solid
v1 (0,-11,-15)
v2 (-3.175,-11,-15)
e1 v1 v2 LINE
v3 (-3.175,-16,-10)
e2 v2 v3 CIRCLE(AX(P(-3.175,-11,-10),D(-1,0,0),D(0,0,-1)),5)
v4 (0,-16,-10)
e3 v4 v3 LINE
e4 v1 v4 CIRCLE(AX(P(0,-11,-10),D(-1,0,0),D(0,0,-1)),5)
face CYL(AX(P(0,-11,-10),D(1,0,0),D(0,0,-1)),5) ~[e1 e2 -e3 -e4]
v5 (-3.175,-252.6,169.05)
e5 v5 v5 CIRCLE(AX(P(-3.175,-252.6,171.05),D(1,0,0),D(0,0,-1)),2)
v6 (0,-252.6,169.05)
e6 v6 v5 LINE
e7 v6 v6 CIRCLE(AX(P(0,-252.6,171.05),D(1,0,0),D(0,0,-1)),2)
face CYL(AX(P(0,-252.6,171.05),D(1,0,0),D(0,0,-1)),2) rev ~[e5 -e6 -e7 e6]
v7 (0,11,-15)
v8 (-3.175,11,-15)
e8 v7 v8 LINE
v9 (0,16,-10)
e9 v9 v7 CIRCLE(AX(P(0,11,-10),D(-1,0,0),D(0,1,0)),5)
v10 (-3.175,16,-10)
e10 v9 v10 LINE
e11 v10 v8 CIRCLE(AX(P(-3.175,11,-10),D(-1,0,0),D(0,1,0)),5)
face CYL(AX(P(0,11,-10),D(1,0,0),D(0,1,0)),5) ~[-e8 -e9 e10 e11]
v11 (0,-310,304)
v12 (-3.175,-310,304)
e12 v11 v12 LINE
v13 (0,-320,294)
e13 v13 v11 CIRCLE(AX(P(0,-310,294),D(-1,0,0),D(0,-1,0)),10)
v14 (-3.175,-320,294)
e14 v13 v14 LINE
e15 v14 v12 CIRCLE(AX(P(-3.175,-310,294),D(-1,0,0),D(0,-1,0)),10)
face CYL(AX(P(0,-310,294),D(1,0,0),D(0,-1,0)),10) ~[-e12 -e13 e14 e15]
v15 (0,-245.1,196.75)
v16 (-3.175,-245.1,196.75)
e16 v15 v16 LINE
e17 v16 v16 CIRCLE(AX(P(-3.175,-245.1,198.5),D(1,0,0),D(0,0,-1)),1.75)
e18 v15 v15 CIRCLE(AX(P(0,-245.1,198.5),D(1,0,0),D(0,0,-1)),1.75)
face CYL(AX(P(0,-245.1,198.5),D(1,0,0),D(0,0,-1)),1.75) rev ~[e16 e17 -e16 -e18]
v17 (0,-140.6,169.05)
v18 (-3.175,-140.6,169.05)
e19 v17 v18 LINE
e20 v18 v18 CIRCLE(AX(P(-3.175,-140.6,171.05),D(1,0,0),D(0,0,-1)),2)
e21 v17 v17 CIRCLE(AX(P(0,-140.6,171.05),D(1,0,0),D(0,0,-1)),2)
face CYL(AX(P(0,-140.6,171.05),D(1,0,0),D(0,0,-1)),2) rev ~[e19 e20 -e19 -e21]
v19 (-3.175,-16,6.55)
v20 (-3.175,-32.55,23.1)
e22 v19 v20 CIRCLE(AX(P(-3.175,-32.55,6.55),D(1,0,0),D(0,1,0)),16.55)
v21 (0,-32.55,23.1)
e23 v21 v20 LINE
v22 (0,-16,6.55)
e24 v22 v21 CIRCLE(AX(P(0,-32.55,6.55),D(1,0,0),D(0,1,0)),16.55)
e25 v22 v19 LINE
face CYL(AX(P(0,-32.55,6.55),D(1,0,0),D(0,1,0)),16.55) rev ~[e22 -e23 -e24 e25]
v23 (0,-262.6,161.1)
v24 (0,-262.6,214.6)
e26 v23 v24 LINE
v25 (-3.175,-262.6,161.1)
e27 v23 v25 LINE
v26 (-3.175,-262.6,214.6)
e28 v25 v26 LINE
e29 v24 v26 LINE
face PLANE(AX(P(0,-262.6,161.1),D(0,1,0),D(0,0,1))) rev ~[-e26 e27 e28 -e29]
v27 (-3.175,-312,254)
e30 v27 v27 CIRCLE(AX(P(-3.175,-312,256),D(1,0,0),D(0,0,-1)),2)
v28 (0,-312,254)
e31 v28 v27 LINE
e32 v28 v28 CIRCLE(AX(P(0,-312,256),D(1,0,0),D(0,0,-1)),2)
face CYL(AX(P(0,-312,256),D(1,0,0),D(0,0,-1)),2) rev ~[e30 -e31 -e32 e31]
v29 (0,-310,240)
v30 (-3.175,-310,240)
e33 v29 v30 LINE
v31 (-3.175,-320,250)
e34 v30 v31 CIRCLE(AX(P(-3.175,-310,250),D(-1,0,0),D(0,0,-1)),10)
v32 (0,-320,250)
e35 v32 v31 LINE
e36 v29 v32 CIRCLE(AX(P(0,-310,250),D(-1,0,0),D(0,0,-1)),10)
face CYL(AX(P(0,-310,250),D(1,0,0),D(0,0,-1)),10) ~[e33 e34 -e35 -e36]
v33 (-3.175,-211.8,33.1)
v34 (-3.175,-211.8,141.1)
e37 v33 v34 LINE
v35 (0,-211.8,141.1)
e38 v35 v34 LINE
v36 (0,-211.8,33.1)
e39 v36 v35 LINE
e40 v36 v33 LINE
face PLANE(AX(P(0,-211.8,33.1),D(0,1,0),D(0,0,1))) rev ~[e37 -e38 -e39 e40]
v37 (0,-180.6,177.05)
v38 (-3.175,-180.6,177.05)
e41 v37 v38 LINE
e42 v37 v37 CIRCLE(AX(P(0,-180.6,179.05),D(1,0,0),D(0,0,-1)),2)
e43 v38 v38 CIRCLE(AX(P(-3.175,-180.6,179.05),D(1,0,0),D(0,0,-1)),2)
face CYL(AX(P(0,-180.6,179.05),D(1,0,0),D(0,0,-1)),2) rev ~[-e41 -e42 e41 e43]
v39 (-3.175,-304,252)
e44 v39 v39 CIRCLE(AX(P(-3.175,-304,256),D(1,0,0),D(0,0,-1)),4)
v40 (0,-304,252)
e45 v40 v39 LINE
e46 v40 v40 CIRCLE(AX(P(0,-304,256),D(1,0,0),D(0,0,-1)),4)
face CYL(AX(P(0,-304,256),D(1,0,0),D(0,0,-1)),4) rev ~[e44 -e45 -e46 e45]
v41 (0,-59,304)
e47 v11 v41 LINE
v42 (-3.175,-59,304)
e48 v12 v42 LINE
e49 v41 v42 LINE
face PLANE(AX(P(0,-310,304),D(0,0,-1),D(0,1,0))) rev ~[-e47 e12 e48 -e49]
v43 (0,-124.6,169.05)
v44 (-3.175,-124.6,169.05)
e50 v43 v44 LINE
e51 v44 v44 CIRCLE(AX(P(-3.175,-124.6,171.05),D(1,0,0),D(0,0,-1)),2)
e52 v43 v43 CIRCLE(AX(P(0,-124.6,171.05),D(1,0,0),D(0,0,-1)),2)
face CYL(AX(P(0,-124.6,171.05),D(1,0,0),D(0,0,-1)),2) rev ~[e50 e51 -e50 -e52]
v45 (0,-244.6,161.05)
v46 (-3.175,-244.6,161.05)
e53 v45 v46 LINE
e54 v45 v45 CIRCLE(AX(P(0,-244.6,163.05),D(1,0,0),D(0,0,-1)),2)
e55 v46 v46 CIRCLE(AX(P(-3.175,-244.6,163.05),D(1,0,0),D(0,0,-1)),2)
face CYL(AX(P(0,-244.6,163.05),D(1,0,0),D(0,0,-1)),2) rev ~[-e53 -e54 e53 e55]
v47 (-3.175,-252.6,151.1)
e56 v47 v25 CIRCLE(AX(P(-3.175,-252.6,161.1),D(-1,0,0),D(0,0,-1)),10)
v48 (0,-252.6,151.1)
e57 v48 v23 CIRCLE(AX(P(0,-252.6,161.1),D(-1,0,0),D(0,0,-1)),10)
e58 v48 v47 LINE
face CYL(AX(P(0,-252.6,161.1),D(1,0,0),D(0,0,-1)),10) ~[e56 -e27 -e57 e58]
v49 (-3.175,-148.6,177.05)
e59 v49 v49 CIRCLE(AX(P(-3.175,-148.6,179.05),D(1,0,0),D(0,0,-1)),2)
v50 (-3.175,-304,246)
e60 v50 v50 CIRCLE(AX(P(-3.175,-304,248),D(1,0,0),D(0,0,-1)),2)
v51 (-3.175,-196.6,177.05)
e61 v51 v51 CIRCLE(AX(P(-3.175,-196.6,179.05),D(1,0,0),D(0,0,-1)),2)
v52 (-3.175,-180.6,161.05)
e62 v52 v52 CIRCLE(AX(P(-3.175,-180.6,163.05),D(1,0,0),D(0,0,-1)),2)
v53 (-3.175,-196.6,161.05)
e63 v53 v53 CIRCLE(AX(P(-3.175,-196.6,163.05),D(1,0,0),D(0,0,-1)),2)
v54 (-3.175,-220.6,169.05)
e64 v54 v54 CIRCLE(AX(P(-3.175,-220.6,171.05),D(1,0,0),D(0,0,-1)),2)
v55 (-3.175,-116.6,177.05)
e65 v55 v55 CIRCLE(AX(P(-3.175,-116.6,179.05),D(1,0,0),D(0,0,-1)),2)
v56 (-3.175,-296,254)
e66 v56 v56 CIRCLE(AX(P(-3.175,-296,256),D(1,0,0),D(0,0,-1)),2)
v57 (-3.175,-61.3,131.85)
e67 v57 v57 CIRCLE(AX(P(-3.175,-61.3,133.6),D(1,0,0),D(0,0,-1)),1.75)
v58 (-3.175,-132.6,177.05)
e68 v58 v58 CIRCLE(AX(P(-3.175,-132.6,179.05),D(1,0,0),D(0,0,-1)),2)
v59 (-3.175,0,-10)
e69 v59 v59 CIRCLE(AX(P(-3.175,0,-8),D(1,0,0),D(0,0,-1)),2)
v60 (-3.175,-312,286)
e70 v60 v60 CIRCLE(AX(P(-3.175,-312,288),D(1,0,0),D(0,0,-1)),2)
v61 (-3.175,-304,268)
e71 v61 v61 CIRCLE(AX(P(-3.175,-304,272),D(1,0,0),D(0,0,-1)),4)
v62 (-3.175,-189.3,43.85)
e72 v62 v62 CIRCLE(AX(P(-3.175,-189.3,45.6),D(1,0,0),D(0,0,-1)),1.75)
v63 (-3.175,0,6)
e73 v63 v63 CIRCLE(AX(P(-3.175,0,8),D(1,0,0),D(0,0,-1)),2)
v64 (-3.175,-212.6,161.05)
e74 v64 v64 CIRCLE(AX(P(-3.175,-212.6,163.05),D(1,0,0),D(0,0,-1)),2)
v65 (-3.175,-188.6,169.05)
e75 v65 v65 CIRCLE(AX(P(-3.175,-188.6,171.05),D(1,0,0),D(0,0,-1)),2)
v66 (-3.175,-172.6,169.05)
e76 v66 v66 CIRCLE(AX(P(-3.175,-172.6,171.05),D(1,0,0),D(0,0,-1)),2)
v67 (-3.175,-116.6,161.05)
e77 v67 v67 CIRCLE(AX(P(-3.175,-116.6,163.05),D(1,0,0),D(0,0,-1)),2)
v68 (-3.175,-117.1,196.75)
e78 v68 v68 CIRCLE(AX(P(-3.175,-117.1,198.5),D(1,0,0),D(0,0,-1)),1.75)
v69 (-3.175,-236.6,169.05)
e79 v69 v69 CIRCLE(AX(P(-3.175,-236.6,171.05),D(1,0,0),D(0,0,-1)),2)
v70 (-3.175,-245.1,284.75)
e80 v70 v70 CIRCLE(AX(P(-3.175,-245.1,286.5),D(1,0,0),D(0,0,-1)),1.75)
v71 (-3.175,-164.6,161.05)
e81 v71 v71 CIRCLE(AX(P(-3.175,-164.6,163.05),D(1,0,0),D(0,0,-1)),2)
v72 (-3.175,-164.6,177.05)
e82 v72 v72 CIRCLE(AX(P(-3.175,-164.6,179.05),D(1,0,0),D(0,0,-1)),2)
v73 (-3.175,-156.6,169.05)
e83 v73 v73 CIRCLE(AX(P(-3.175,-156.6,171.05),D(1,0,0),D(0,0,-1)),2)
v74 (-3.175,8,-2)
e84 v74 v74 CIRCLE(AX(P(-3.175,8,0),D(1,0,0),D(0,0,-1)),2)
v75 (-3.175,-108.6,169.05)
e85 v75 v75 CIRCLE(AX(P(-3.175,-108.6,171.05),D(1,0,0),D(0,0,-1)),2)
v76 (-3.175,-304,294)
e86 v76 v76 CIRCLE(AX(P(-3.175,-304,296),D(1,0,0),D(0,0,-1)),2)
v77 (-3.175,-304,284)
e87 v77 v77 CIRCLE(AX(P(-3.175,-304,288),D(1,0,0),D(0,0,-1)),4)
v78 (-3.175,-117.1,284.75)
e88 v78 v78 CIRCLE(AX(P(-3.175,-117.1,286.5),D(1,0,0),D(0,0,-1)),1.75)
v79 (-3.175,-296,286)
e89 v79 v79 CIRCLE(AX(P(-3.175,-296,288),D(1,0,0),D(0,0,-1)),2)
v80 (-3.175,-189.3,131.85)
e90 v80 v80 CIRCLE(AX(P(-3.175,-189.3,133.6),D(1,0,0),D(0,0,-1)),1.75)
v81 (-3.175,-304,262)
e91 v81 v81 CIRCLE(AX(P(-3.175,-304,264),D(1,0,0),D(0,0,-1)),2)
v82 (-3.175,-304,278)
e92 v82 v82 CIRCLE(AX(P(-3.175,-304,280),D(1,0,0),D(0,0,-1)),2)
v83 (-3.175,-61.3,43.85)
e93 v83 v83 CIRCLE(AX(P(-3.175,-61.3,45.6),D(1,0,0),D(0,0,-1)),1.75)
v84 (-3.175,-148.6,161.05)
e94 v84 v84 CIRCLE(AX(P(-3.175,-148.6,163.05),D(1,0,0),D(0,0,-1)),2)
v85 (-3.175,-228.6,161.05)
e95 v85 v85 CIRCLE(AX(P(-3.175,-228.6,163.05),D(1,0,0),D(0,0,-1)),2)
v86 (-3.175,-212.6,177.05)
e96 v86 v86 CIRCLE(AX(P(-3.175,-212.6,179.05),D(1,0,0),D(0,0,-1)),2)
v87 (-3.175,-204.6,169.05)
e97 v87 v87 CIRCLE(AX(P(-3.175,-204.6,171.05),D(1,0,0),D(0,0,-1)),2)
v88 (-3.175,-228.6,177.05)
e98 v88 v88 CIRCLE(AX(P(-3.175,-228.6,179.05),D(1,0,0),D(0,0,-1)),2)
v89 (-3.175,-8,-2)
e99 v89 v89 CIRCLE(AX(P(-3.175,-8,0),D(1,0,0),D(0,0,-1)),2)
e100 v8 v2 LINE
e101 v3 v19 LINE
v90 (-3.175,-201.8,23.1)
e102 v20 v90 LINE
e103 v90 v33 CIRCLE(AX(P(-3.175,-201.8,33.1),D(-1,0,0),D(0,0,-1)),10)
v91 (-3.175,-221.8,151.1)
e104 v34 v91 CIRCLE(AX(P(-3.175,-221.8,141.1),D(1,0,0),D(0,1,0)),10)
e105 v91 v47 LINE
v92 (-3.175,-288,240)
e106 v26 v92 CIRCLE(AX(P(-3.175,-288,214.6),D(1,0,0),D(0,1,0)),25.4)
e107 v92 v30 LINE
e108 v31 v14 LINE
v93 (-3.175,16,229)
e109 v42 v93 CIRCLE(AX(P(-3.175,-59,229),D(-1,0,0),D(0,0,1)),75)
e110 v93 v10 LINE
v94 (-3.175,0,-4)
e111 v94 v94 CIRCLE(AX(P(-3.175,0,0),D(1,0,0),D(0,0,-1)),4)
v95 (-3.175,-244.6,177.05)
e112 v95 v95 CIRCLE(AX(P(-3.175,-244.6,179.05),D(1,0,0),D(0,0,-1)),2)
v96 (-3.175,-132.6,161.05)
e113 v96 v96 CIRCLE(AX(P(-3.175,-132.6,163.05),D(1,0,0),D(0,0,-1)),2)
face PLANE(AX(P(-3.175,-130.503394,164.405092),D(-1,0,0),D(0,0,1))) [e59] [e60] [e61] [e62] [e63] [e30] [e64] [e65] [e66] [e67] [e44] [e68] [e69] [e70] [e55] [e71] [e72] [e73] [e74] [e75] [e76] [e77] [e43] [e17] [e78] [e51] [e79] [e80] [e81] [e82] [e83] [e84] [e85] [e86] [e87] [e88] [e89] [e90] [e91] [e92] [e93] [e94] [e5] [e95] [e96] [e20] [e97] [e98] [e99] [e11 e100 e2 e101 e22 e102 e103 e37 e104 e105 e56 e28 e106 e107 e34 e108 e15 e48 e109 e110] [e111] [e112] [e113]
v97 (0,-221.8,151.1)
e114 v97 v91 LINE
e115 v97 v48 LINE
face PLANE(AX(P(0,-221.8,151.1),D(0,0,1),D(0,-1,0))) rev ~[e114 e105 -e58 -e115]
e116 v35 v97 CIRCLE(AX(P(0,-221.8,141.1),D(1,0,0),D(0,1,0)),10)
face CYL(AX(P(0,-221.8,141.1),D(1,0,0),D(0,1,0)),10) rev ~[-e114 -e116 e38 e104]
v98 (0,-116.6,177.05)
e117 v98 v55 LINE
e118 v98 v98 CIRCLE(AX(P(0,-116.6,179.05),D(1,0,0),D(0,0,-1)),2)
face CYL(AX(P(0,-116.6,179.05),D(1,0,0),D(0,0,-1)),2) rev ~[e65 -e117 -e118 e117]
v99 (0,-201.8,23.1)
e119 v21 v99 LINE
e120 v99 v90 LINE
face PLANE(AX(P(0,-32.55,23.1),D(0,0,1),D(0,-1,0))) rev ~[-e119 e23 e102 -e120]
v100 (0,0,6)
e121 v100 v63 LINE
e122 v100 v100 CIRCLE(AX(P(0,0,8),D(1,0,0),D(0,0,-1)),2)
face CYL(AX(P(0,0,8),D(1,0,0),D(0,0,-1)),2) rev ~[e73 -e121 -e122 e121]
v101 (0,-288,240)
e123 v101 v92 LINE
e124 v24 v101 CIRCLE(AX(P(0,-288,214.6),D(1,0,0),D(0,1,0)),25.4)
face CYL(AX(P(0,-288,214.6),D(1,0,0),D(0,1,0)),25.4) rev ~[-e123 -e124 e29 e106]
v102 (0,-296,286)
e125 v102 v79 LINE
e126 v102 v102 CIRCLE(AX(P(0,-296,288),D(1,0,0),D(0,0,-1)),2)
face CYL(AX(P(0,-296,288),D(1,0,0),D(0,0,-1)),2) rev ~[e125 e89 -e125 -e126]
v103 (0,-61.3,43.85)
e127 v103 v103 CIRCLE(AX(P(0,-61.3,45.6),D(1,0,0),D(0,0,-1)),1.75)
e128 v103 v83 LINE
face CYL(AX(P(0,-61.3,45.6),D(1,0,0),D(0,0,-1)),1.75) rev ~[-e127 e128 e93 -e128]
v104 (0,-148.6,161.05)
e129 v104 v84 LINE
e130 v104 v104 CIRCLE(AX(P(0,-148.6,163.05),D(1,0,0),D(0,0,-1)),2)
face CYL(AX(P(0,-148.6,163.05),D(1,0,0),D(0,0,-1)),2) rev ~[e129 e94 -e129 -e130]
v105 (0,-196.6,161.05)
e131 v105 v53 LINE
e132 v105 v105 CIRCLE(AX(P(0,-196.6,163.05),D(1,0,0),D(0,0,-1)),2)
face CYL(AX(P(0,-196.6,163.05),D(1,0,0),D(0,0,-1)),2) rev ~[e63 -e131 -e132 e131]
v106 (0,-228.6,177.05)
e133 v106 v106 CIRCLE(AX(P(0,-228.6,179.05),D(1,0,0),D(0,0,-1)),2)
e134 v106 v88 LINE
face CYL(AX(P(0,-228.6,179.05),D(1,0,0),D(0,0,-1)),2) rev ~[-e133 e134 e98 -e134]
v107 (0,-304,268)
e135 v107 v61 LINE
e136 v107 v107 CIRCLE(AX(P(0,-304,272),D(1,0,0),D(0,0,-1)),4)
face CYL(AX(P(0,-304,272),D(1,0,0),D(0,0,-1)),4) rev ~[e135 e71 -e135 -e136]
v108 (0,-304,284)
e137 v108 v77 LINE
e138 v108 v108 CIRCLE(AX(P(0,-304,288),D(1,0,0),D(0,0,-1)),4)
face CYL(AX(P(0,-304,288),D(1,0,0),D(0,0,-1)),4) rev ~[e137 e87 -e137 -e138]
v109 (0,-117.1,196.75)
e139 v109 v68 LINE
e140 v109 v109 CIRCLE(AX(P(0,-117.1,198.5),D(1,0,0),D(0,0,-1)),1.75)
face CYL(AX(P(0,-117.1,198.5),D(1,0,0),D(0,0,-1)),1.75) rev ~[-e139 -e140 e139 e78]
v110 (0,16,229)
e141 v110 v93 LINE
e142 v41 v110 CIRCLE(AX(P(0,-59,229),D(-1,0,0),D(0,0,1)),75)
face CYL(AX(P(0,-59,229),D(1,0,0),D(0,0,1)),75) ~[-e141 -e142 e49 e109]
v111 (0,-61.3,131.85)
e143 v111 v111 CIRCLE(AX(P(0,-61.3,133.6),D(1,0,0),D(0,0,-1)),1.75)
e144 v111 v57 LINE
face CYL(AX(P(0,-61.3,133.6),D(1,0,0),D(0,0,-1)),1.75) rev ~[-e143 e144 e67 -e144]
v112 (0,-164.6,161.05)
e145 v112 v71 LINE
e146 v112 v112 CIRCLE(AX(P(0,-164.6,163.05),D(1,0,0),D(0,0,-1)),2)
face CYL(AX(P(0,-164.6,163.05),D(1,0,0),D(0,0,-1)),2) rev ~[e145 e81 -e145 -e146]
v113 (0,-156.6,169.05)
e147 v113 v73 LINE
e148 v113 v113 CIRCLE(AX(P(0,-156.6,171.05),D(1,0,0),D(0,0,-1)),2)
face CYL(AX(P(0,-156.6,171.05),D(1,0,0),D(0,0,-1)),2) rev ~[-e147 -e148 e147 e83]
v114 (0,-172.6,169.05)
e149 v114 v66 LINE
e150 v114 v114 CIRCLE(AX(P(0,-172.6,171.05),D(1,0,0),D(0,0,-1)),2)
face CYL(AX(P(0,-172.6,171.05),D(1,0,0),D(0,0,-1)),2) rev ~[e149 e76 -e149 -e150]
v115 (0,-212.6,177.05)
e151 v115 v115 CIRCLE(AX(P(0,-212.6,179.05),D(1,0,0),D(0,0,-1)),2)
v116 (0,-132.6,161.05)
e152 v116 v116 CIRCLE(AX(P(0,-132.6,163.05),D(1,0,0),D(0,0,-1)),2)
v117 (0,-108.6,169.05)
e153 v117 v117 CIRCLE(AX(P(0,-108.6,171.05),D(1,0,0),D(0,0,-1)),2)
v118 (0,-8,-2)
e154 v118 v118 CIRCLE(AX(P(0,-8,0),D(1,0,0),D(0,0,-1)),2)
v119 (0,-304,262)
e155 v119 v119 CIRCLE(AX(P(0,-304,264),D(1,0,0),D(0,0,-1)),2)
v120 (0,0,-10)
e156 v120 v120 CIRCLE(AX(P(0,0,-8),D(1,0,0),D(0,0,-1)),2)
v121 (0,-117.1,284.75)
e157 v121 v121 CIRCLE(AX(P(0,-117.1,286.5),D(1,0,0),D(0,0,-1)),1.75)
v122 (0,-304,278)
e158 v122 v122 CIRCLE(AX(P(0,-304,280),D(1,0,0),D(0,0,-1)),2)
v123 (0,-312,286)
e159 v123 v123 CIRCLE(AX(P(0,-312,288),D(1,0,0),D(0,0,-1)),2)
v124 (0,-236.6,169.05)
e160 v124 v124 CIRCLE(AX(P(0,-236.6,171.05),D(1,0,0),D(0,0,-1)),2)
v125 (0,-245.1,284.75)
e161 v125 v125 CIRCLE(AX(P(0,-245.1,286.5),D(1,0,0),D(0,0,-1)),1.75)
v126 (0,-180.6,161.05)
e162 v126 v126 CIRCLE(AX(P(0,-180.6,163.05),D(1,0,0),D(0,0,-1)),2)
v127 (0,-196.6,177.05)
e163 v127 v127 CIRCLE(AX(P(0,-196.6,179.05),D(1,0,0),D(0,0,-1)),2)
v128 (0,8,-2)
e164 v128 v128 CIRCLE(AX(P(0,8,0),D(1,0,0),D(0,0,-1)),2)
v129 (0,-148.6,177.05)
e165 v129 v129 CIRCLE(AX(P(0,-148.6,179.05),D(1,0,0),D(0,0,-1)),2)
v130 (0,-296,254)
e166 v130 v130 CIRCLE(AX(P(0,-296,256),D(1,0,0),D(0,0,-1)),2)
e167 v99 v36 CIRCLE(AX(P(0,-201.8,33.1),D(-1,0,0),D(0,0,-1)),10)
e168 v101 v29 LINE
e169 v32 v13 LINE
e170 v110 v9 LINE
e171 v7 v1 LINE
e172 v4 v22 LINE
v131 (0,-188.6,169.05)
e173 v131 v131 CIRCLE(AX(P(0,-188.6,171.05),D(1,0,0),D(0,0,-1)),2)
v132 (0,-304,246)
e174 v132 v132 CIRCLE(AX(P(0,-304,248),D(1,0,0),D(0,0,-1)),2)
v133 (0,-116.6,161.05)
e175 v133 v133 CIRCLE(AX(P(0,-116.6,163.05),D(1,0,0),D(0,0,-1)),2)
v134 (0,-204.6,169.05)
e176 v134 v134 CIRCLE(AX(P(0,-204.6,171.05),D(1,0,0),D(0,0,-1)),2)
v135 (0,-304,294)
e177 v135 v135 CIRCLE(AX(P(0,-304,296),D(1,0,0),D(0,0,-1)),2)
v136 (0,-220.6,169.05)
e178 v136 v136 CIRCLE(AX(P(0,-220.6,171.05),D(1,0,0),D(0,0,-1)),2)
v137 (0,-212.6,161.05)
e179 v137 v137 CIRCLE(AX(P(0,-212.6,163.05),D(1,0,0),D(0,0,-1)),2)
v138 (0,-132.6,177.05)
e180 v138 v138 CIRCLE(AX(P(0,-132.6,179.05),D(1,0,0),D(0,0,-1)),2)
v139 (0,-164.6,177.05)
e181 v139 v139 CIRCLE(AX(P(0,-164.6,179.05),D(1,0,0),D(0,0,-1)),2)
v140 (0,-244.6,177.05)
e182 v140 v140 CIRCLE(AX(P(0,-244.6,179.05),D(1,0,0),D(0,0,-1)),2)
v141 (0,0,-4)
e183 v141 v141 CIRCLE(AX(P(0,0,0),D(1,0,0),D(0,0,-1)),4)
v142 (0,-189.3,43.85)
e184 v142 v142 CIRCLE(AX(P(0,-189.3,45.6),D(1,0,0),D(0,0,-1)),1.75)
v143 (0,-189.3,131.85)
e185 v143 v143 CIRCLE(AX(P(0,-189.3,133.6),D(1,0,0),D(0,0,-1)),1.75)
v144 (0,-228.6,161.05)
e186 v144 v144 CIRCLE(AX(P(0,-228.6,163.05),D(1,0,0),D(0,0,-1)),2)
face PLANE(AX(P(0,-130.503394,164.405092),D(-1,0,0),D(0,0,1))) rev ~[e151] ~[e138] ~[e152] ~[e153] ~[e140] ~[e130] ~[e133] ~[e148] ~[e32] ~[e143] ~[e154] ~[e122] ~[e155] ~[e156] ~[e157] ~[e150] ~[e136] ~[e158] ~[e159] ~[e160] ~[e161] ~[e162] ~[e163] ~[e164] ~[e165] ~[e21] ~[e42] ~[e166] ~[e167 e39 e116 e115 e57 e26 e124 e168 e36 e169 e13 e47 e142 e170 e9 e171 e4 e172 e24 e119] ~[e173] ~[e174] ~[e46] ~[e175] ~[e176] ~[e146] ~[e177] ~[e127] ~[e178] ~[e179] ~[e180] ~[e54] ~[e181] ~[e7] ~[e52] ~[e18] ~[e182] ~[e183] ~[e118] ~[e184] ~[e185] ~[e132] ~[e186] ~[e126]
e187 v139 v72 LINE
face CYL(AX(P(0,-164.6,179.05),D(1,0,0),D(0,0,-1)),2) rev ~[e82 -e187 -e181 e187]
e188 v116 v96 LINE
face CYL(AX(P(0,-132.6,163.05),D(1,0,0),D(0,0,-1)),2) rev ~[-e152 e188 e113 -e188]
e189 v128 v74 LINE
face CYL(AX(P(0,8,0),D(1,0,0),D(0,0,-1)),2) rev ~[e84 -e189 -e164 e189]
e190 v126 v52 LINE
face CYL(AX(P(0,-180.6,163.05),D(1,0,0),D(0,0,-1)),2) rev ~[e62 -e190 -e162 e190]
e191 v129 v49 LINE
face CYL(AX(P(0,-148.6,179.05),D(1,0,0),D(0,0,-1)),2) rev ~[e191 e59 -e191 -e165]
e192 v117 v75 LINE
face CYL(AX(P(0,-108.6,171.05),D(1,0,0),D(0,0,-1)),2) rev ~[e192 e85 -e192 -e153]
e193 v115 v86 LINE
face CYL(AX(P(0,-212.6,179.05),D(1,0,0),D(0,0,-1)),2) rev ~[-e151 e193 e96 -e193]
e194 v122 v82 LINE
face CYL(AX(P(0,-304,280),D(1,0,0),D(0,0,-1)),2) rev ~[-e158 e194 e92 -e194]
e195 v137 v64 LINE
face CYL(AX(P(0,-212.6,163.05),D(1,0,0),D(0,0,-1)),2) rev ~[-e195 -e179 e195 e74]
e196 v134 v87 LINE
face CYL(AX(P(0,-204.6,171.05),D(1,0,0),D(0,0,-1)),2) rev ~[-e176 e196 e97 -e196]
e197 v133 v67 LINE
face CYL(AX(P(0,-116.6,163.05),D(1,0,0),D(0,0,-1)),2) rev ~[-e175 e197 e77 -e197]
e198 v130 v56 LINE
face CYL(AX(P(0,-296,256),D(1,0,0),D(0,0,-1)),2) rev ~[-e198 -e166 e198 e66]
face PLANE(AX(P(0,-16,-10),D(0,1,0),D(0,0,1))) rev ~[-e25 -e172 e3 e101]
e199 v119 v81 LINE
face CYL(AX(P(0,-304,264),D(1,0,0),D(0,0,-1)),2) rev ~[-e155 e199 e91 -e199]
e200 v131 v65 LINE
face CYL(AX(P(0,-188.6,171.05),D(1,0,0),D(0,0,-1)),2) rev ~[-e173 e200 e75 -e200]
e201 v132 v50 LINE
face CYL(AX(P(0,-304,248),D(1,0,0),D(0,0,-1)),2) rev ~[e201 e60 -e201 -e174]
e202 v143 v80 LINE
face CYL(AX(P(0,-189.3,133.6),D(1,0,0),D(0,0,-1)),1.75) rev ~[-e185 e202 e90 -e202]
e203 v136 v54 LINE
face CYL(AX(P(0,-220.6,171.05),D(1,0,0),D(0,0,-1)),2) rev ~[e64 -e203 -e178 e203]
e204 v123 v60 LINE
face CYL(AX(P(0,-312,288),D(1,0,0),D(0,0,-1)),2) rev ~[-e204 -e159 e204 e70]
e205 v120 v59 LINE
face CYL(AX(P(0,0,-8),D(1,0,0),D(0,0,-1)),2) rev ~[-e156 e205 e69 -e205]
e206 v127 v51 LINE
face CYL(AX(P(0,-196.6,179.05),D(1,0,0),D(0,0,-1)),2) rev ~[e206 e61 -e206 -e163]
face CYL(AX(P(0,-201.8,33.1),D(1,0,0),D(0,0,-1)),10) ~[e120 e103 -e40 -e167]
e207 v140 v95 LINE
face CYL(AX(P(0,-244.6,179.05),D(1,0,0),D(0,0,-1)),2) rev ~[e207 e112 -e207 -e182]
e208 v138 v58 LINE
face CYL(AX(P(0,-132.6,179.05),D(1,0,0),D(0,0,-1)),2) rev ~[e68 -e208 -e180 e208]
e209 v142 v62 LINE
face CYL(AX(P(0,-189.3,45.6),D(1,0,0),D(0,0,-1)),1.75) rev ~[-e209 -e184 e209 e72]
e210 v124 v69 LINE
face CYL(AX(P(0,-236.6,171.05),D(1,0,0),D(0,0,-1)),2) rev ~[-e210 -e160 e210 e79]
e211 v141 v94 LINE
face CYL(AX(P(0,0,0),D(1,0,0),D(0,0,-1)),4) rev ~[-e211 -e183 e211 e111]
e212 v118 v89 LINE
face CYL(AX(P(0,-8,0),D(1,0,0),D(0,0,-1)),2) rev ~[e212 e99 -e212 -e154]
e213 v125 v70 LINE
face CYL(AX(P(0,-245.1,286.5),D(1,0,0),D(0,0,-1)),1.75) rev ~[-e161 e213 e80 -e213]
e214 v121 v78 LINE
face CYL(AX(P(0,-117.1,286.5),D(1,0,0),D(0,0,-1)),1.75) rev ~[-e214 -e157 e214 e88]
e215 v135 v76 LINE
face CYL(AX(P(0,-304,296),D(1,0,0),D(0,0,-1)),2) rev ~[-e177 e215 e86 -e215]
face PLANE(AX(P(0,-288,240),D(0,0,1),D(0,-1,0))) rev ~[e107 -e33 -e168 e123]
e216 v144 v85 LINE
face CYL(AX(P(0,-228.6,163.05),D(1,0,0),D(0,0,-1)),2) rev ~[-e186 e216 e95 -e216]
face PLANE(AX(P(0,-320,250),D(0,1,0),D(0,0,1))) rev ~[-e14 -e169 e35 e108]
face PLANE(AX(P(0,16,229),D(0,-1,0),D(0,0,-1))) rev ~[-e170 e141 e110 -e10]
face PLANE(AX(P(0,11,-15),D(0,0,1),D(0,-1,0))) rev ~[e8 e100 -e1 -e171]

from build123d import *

# Parameters (mm, degrees)
SKETCH1_R           = 4
SKETCH1_R_2         = 2
SKETCH1_R_3         = 1.75
BOSS_EXTRUDE1_DEPTH = 3.175


with BuildPart() as part:
    # Sketch1 → Boss-Extrude1 (new body)
    with BuildSketch(Plane(origin=(0, 0, 0), x_dir=(0, 0, -1), z_dir=(1, 0, 0))):
        with BuildLine():
            Line((-240, -288), (-240, -310))
            ThreePointArc((-240, -310), (-242.928932188, -317.071067812), (-250, -320))
            Line((-250, -320), (-294, -320))
            ThreePointArc((-294, -320), (-301.071067812, -317.071067812), (-304, -310))
            Line((-304, -310), (-304, -288))
            Line((-304, -288), (-304, -59))
            ThreePointArc((-304, -59), (-282.033008589, -5.966991411), (-229, 16))
            Line((-229, 16), (-16, 16))
            Line((-16, 16), (10, 16))
            ThreePointArc((10, 16), (13.535533906, 14.535533906), (15, 11))
            Line((15, 11), (15, -11))
            ThreePointArc((15, -11), (13.535533906, -14.535533906), (10, -16))
            Line((10, -16), (-6.55, -16))
            ThreePointArc((-6.55, -16), (-18.252617229, -20.847382771), (-23.1, -32.55))
            Line((-23.1, -32.55), (-23.1, -201.8))
            ThreePointArc((-23.1, -201.8), (-26.028932188, -208.871067812), (-33.1, -211.8))
            Line((-33.1, -211.8), (-141.1, -211.8))
            ThreePointArc((-141.1, -211.8), (-148.171067812, -214.728932188), (-151.1, -221.8))
            Line((-151.1, -221.8), (-151.1, -252.6))
            ThreePointArc((-151.1, -252.6), (-154.028932188, -259.671067812), (-161.1, -262.6))
            Line((-161.1, -262.6), (-214.6, -262.6))
            ThreePointArc((-214.6, -262.6), (-232.560512242, -270.039487758), (-240, -288))
        make_face()
        with Locations((-256, -304)):
            Circle(SKETCH1_R, mode=Mode.SUBTRACT)
        Circle(SKETCH1_R, mode=Mode.SUBTRACT)
        with Locations((8, 0)):
            Circle(SKETCH1_R_2, mode=Mode.SUBTRACT)
        with Locations((0, -8)):
            Circle(SKETCH1_R_2, mode=Mode.SUBTRACT)
        with Locations((-8, 0)):
            Circle(SKETCH1_R_2, mode=Mode.SUBTRACT)
        with Locations((0, 8)):
            Circle(SKETCH1_R_2, mode=Mode.SUBTRACT)
        with Locations((-248, -304)):
            Circle(SKETCH1_R_2, mode=Mode.SUBTRACT)
        with Locations((-256, -312)):
            Circle(SKETCH1_R_2, mode=Mode.SUBTRACT)
        with Locations((-256, -296)):
            Circle(SKETCH1_R_2, mode=Mode.SUBTRACT)
        with Locations((-264, -304)):
            Circle(SKETCH1_R_2, mode=Mode.SUBTRACT)
        with Locations((-272, -304)):
            Circle(SKETCH1_R, mode=Mode.SUBTRACT)
        with Locations((-288, -312)):
            Circle(SKETCH1_R_2, mode=Mode.SUBTRACT)
        with Locations((-280, -304)):
            Circle(SKETCH1_R_2, mode=Mode.SUBTRACT)
        with Locations((-288, -296)):
            Circle(SKETCH1_R_2, mode=Mode.SUBTRACT)
        with Locations((-288, -304)):
            Circle(SKETCH1_R, mode=Mode.SUBTRACT)
        with Locations((-296, -304)):
            Circle(SKETCH1_R_2, mode=Mode.SUBTRACT)
        with Locations((-171.05, -252.6)):
            Circle(SKETCH1_R_2, mode=Mode.SUBTRACT)
        with Locations((-179.05, -244.6)):
            Circle(SKETCH1_R_2, mode=Mode.SUBTRACT)
        with Locations((-171.05, -236.6)):
            Circle(SKETCH1_R_2, mode=Mode.SUBTRACT)
        with Locations((-163.05, -244.6)):
            Circle(SKETCH1_R_2, mode=Mode.SUBTRACT)
        with Locations((-179.05, -228.6)):
            Circle(SKETCH1_R_2, mode=Mode.SUBTRACT)
        with Locations((-171.05, -220.6)):
            Circle(SKETCH1_R_2, mode=Mode.SUBTRACT)
        with Locations((-163.05, -228.6)):
            Circle(SKETCH1_R_2, mode=Mode.SUBTRACT)
        with Locations((-179.05, -212.6)):
            Circle(SKETCH1_R_2, mode=Mode.SUBTRACT)
        with Locations((-171.05, -204.6)):
            Circle(SKETCH1_R_2, mode=Mode.SUBTRACT)
        with Locations((-163.05, -212.6)):
            Circle(SKETCH1_R_2, mode=Mode.SUBTRACT)
        with Locations((-179.05, -196.6)):
            Circle(SKETCH1_R_2, mode=Mode.SUBTRACT)
        with Locations((-171.05, -188.6)):
            Circle(SKETCH1_R_2, mode=Mode.SUBTRACT)
        with Locations((-163.05, -196.6)):
            Circle(SKETCH1_R_2, mode=Mode.SUBTRACT)
        with Locations((-179.05, -180.6)):
            Circle(SKETCH1_R_2, mode=Mode.SUBTRACT)
        with Locations((-171.05, -172.6)):
            Circle(SKETCH1_R_2, mode=Mode.SUBTRACT)
        with Locations((-163.05, -180.6)):
            Circle(SKETCH1_R_2, mode=Mode.SUBTRACT)
        with Locations((-179.05, -164.6)):
            Circle(SKETCH1_R_2, mode=Mode.SUBTRACT)
        with Locations((-171.05, -156.6)):
            Circle(SKETCH1_R_2, mode=Mode.SUBTRACT)
        with Locations((-163.05, -164.6)):
            Circle(SKETCH1_R_2, mode=Mode.SUBTRACT)
        with Locations((-179.05, -148.6)):
            Circle(SKETCH1_R_2, mode=Mode.SUBTRACT)
        with Locations((-171.05, -140.6)):
            Circle(SKETCH1_R_2, mode=Mode.SUBTRACT)
        with Locations((-163.05, -148.6)):
            Circle(SKETCH1_R_2, mode=Mode.SUBTRACT)
        with Locations((-179.05, -132.6)):
            Circle(SKETCH1_R_2, mode=Mode.SUBTRACT)
        with Locations((-171.05, -124.6)):
            Circle(SKETCH1_R_2, mode=Mode.SUBTRACT)
        with Locations((-163.05, -132.6)):
            Circle(SKETCH1_R_2, mode=Mode.SUBTRACT)
        with Locations((-179.05, -116.6)):
            Circle(SKETCH1_R_2, mode=Mode.SUBTRACT)
        with Locations((-171.05, -108.6)):
            Circle(SKETCH1_R_2, mode=Mode.SUBTRACT)
        with Locations((-163.05, -116.6)):
            Circle(SKETCH1_R_2, mode=Mode.SUBTRACT)
        with Locations((-286.5, -117.1)):
            Circle(SKETCH1_R_3, mode=Mode.SUBTRACT)
        with Locations((-198.5, -117.1)):
            Circle(SKETCH1_R_3, mode=Mode.SUBTRACT)
        with Locations((-198.5, -245.1)):
            Circle(SKETCH1_R_3, mode=Mode.SUBTRACT)
        with Locations((-286.5, -245.1)):
            Circle(SKETCH1_R_3, mode=Mode.SUBTRACT)
        with Locations((-133.6, -61.3)):
            Circle(SKETCH1_R_3, mode=Mode.SUBTRACT)
        with Locations((-45.6, -61.3)):
            Circle(SKETCH1_R_3, mode=Mode.SUBTRACT)
        with Locations((-45.6, -189.3)):
            Circle(SKETCH1_R_3, mode=Mode.SUBTRACT)
        with Locations((-133.6, -189.3)):
            Circle(SKETCH1_R_3, mode=Mode.SUBTRACT)
    extrude(amount=-BOSS_EXTRUDE1_DEPTH)


solid = part.part
